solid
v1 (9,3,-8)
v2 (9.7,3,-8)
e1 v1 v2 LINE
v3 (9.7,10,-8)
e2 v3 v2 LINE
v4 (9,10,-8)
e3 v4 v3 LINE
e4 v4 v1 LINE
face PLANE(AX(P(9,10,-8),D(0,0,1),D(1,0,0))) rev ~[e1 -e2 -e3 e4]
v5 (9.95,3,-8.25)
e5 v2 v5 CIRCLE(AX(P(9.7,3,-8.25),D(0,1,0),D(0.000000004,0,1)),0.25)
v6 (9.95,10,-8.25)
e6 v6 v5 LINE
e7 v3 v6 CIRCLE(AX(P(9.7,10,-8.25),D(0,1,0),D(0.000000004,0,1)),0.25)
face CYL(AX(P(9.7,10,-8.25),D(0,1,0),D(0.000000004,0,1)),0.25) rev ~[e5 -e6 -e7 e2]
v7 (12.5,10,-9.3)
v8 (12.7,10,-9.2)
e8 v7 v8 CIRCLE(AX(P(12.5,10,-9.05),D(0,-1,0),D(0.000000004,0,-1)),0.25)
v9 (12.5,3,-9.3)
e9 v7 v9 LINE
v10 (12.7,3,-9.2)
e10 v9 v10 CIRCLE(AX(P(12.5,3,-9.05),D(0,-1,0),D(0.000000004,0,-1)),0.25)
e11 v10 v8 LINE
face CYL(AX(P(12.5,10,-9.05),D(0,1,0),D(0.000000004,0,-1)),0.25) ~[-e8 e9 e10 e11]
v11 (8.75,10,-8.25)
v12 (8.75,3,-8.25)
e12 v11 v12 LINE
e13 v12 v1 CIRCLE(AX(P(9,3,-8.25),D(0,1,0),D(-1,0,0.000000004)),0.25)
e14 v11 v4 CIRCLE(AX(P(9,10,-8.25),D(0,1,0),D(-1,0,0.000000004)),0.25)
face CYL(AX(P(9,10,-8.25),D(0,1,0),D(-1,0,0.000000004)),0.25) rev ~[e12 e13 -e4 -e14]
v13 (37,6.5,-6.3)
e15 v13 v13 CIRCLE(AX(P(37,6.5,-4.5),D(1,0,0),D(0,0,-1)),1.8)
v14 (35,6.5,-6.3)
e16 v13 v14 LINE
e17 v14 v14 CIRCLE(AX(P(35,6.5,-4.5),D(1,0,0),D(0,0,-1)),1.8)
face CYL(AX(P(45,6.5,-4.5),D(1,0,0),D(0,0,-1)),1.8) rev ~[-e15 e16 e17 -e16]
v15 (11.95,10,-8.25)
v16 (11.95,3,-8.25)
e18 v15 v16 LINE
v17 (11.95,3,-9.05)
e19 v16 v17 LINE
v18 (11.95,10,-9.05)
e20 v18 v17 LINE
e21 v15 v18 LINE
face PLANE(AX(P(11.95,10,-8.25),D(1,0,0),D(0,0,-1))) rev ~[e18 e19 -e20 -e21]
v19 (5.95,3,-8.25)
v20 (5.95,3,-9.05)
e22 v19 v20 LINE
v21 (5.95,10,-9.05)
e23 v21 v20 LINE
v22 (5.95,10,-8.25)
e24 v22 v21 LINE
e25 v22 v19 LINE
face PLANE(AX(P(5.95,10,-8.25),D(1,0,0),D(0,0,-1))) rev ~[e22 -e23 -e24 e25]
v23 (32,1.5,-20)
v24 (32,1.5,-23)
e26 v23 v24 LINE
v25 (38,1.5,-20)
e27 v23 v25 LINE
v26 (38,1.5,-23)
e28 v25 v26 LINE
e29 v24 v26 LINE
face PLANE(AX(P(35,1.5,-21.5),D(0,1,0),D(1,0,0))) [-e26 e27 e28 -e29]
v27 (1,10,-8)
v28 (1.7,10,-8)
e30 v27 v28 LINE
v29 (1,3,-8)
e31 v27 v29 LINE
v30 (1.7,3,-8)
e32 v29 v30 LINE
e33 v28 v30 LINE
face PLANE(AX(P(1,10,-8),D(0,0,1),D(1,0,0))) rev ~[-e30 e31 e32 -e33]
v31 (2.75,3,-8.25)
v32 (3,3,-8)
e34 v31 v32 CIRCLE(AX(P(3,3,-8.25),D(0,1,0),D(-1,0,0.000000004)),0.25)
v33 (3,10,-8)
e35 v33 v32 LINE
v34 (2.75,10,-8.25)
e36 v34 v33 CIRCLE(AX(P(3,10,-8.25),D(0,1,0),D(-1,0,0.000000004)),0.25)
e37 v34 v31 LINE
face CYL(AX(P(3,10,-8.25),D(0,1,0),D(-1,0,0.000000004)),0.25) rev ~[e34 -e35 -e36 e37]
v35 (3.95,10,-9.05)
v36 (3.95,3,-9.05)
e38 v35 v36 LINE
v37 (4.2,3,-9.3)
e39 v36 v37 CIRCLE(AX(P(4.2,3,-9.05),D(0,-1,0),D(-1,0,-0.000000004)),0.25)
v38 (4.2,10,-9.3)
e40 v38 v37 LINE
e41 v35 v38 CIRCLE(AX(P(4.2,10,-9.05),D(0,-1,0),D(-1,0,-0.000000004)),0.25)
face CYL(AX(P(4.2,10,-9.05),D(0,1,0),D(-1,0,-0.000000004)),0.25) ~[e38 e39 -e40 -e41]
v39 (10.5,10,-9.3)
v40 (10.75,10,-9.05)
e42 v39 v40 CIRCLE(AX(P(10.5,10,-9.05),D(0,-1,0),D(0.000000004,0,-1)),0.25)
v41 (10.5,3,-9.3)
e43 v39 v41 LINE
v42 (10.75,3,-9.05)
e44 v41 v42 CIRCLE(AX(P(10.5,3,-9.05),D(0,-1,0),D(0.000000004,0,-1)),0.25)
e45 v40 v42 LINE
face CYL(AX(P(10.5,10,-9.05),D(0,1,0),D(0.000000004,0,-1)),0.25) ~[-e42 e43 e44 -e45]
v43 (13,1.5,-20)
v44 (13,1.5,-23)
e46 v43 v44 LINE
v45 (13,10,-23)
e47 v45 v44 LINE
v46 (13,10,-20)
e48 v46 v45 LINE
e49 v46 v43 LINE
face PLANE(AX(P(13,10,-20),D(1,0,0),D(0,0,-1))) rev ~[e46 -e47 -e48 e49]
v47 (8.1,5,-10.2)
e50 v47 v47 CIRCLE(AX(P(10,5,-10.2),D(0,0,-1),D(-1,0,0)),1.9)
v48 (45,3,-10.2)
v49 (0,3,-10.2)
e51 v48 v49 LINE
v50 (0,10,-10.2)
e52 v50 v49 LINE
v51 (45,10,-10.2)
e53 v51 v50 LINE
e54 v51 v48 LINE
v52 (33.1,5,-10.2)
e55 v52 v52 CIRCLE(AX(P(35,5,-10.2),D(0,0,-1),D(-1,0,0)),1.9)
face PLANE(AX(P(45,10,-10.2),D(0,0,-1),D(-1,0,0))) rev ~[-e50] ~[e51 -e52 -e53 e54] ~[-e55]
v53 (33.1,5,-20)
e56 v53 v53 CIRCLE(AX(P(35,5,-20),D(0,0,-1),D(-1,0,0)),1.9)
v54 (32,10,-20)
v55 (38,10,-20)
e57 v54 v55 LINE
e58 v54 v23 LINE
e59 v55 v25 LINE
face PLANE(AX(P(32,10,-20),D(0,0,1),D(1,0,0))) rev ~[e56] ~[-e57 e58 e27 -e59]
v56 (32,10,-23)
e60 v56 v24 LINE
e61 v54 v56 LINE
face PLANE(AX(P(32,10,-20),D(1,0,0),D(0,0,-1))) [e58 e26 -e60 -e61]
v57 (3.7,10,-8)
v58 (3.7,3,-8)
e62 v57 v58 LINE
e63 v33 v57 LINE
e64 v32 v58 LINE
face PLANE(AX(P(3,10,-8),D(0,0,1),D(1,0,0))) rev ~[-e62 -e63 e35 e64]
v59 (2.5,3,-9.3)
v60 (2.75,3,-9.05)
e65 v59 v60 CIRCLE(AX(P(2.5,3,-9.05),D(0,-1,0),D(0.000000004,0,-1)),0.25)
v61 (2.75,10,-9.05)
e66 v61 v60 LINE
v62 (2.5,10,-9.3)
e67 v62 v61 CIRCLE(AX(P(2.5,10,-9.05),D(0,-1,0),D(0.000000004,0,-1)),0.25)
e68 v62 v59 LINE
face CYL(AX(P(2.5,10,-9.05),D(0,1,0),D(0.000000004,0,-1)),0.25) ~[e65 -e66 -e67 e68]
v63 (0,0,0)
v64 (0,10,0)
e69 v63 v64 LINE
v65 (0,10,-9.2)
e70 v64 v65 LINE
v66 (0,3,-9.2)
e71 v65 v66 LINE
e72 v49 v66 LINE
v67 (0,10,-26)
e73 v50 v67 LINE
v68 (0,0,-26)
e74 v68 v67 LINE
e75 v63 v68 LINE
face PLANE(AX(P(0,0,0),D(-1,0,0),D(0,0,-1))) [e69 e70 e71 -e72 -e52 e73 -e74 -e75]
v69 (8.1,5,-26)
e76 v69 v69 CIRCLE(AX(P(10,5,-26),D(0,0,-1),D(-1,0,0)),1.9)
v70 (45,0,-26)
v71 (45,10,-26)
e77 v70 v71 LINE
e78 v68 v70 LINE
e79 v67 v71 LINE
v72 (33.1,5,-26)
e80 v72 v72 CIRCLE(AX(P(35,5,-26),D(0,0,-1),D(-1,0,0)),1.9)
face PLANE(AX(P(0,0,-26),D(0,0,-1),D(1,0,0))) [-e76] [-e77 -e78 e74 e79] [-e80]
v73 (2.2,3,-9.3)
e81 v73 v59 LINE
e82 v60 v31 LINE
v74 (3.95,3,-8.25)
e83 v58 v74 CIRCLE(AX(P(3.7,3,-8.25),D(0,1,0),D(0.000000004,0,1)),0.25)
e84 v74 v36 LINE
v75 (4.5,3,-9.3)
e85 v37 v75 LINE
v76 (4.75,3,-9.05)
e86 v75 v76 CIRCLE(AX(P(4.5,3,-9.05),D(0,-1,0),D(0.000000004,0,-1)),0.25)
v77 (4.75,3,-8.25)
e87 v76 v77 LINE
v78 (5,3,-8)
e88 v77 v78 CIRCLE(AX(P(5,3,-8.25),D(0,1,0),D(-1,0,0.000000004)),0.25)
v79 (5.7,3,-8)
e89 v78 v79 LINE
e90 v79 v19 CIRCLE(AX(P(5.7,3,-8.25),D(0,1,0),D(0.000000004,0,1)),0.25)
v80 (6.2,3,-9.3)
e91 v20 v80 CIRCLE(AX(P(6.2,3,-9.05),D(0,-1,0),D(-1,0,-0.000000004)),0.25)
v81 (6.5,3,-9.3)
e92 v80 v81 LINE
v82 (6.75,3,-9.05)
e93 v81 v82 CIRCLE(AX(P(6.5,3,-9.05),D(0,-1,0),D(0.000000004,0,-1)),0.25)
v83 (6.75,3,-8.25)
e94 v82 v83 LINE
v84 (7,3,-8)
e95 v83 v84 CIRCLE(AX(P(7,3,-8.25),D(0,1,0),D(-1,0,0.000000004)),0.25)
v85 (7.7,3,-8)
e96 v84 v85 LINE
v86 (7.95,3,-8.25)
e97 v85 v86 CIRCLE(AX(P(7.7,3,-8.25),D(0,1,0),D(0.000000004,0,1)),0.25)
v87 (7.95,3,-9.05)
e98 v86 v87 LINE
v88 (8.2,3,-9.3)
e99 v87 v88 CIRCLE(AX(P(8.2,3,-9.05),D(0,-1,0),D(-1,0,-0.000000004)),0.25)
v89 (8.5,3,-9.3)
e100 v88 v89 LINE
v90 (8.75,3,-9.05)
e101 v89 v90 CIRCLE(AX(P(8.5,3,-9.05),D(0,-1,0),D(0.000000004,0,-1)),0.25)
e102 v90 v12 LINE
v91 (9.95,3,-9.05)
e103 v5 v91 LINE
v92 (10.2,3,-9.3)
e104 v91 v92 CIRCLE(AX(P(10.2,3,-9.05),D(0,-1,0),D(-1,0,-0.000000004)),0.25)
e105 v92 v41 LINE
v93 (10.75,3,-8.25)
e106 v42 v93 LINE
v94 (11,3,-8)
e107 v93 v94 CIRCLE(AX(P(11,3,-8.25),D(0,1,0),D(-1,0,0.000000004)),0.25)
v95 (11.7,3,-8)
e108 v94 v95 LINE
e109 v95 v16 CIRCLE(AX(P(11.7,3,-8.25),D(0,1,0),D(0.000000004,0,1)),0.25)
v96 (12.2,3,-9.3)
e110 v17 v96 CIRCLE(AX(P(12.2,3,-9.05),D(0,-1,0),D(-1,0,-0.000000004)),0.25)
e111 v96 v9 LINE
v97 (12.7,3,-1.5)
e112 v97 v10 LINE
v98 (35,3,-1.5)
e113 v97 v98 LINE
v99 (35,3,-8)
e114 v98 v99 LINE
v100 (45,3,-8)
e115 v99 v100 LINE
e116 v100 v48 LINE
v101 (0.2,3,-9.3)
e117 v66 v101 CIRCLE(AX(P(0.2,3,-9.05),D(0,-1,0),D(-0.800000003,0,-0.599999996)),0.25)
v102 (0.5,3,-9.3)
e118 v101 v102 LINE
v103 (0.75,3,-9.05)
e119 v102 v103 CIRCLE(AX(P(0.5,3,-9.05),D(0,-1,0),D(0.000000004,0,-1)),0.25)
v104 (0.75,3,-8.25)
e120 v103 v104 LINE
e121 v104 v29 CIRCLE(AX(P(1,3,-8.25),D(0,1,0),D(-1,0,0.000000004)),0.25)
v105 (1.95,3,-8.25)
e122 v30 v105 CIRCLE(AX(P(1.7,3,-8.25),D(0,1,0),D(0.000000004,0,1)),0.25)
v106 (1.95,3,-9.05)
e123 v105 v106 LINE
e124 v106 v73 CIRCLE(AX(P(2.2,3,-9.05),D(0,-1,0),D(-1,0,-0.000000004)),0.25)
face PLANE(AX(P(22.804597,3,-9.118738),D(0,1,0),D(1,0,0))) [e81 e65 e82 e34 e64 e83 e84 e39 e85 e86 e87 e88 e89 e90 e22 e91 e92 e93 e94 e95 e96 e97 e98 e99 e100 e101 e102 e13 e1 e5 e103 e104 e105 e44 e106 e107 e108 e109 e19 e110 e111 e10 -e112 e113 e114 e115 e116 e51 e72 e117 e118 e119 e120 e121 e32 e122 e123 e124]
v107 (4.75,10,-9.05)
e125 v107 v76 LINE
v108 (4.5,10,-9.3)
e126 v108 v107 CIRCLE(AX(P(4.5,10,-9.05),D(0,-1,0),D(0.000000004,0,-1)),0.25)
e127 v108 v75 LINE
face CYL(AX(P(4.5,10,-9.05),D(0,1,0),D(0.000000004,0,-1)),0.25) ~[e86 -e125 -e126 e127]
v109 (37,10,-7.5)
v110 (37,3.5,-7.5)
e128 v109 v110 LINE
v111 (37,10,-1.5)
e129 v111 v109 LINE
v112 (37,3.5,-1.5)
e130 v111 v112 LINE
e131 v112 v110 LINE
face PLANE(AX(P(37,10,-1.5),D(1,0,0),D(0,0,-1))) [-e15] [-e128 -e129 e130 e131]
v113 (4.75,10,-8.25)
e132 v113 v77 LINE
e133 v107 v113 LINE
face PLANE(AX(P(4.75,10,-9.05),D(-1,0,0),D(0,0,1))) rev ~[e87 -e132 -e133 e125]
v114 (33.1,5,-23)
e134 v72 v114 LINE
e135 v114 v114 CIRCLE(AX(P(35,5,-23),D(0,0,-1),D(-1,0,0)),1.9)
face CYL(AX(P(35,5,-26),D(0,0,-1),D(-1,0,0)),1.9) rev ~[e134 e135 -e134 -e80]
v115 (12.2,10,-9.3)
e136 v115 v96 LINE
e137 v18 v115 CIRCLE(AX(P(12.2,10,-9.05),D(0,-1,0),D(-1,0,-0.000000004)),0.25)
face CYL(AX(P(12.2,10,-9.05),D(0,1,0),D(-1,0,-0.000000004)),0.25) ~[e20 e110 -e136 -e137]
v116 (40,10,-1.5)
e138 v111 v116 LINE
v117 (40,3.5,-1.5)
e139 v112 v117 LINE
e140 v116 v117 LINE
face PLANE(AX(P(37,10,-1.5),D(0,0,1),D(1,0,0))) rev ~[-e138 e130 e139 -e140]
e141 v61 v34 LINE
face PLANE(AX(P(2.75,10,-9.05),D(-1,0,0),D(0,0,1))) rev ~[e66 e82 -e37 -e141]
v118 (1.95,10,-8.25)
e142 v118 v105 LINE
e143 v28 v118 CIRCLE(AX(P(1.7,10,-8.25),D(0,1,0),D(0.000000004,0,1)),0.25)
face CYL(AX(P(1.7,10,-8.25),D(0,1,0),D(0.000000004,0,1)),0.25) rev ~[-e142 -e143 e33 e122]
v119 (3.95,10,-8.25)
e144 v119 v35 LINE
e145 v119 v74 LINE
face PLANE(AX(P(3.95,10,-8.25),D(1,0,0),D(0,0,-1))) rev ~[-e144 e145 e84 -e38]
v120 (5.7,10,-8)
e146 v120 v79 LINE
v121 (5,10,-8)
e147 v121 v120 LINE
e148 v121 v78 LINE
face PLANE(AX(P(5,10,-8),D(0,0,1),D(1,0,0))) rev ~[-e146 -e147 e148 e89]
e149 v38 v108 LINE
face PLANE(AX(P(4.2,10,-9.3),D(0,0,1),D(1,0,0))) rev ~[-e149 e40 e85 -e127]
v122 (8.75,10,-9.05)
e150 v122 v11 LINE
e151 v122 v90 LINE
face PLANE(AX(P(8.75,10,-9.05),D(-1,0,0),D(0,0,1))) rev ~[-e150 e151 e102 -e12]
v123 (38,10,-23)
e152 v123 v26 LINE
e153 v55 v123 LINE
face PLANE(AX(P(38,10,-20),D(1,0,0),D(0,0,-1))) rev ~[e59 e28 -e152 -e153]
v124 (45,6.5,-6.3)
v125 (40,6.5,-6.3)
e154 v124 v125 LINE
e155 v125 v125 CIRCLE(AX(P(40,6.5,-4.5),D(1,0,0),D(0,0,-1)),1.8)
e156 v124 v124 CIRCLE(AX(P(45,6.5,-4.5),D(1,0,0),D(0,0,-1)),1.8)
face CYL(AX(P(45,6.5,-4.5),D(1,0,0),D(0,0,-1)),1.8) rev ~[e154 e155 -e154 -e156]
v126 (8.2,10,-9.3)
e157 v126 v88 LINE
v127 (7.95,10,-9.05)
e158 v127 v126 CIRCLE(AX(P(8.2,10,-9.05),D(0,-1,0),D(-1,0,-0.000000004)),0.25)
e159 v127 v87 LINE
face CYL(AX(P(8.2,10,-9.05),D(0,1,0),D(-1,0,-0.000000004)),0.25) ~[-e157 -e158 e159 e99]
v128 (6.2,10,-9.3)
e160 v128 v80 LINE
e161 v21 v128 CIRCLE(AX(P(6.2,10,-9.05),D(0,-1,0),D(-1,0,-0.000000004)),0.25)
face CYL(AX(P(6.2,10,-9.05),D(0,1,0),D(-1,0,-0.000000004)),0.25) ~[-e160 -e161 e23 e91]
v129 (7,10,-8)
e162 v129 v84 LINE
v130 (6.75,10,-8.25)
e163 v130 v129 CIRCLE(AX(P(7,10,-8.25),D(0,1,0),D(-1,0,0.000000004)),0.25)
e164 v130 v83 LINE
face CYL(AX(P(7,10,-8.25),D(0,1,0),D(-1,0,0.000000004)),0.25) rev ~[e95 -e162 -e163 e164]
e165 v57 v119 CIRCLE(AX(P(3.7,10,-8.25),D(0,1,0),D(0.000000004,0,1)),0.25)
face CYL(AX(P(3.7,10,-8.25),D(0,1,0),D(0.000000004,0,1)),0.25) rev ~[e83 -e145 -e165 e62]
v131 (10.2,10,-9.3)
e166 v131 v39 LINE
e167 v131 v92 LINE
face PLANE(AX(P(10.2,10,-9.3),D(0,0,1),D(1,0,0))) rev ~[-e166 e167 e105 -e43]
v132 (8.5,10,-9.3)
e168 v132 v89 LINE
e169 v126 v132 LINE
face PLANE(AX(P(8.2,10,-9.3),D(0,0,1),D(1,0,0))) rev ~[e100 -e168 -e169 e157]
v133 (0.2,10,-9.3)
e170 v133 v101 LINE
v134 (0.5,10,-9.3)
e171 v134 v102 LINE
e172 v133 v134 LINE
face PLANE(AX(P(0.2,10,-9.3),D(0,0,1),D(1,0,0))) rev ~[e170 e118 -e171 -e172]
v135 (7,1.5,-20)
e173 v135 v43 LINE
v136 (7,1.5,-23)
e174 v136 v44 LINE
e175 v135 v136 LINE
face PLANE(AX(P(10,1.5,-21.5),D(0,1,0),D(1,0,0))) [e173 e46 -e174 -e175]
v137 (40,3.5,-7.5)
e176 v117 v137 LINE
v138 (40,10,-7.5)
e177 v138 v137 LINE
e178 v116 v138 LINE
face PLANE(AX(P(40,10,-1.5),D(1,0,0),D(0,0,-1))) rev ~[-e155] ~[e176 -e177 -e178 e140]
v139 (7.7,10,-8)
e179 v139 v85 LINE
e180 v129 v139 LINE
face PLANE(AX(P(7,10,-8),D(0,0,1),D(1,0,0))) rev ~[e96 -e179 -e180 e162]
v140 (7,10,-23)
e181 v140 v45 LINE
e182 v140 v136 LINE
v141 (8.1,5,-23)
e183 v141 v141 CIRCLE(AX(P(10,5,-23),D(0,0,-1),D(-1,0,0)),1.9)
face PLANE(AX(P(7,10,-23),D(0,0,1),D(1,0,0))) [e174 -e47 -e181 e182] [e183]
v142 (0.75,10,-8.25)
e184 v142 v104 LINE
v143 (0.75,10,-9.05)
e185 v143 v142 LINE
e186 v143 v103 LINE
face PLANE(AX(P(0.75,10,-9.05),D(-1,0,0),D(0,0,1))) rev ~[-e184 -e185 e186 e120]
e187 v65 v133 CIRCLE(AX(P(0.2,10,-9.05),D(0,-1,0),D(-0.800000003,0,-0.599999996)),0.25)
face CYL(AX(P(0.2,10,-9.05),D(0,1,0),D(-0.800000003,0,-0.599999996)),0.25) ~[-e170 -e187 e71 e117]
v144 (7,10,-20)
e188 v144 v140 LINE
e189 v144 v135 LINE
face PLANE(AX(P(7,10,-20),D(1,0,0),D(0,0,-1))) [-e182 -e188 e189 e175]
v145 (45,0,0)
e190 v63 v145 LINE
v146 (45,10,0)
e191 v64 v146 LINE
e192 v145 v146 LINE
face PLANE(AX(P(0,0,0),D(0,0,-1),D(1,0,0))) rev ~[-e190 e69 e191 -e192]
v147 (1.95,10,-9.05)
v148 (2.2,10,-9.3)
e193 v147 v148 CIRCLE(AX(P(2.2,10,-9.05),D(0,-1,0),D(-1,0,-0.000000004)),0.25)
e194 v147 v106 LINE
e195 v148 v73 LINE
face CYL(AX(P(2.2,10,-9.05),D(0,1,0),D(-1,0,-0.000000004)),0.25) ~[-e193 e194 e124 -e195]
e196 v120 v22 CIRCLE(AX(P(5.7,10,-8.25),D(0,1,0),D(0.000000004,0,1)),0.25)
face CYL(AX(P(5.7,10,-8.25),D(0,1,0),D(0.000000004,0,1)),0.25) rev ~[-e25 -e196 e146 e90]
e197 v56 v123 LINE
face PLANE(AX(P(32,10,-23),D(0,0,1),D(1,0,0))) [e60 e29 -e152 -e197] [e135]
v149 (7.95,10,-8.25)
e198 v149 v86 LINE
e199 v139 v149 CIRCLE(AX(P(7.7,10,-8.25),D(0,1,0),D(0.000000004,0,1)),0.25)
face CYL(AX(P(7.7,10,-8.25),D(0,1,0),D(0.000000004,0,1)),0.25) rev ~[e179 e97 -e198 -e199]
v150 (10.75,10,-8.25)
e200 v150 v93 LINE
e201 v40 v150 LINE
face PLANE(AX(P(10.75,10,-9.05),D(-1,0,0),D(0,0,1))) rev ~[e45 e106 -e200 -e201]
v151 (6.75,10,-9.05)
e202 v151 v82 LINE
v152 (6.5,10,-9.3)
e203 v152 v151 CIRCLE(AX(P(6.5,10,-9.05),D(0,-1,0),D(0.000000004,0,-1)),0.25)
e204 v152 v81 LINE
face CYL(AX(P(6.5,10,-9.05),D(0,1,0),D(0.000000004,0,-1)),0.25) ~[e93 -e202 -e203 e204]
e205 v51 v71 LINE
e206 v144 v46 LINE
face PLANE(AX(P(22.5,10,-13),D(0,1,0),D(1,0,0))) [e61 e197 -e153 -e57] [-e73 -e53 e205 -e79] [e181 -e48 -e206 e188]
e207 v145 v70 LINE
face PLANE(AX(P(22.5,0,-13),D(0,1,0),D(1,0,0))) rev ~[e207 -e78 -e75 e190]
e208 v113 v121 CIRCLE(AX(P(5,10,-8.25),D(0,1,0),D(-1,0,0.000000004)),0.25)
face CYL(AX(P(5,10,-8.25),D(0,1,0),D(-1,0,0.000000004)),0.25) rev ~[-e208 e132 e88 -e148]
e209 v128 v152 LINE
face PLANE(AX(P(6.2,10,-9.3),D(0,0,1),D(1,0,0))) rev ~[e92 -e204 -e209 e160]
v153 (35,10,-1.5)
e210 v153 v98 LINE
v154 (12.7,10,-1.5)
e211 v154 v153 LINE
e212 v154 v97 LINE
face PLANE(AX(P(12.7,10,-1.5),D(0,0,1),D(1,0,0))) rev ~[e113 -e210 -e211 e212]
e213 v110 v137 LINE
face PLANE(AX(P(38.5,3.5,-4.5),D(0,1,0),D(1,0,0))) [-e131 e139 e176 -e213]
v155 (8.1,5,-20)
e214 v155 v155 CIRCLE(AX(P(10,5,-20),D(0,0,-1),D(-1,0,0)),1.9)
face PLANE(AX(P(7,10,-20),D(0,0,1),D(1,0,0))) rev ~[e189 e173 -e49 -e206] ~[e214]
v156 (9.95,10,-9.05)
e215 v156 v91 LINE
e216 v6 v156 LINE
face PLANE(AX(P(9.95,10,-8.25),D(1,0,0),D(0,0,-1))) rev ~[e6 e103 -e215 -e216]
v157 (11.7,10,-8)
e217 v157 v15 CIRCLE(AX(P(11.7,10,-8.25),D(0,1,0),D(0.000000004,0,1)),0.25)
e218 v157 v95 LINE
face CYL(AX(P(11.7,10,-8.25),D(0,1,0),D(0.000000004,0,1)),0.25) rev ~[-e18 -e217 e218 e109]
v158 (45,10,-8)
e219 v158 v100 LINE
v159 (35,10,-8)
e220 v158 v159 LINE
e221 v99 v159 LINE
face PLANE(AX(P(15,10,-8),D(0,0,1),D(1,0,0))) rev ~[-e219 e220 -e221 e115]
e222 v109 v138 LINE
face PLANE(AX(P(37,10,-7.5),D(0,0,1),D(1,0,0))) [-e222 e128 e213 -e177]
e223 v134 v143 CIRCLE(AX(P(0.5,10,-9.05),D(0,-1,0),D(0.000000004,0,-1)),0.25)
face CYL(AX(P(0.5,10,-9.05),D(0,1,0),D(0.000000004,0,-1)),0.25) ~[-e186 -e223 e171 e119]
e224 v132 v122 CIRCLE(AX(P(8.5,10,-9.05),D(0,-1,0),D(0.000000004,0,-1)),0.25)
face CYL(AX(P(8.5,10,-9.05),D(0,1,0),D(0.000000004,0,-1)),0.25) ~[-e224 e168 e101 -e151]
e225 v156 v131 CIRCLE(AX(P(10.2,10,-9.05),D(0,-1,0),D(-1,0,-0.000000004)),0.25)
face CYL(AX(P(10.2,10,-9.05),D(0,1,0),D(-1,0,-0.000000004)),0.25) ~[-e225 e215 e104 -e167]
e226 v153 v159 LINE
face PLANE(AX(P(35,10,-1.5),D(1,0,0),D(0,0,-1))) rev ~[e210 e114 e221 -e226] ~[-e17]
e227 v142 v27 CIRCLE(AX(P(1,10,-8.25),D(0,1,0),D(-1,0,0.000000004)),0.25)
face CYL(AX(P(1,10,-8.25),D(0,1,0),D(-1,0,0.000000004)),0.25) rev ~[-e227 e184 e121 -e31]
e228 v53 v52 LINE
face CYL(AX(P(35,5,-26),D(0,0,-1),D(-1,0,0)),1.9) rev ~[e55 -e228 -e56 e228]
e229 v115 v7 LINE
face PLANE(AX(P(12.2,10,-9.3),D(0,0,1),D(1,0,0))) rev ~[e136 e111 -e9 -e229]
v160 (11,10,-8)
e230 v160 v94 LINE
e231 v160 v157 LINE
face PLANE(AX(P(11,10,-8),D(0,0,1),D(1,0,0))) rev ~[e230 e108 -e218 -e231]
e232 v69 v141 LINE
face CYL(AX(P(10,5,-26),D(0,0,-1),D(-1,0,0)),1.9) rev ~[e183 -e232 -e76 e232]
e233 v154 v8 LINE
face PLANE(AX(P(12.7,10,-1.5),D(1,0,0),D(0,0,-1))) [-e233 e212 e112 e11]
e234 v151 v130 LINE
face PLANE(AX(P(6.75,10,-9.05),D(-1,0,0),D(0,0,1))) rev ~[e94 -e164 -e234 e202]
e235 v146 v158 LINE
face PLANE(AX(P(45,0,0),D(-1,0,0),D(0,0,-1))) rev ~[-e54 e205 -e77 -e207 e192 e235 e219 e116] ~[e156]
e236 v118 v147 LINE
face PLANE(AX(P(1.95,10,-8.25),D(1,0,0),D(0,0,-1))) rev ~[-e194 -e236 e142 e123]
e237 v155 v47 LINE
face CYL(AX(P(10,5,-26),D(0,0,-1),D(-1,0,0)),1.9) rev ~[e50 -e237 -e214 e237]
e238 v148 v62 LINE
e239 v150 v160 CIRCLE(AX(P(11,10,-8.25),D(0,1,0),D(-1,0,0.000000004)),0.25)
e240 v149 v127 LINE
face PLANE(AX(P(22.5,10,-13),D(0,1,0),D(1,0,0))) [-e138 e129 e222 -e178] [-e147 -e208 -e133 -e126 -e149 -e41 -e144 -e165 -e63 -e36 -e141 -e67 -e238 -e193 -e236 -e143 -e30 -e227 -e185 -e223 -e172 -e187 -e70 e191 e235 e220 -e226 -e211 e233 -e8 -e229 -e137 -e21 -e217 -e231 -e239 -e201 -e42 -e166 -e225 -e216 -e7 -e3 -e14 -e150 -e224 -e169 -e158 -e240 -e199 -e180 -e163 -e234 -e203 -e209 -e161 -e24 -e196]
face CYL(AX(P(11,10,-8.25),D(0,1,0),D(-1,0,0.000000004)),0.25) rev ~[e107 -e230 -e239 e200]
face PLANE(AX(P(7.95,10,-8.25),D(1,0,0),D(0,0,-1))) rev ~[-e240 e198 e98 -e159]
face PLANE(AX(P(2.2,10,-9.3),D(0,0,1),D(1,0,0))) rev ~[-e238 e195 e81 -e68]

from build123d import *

# Parameters (mm, degrees)
SKETCH_1_W          = 45
SKETCH_1_H          = 26
EXTRUDE_1_DEPTH     = 10
CUT_EXTRUDE_1_DEPTH = 7
SKETCH_4_W          = 30
SKETCH_4_H          = 1.4
CUT_EXTRUDE_3_DEPTH = 7
SKETCH_5_R          = 1.8
CUT_EXTRUDE_4_DEPTH = 30
SKETCH_6_W          = 3
SKETCH_6_H          = 6
CUT_EXTRUDE_5_DEPTH = 6.5
SKETCH_7_W          = 22.3
SKETCH_7_H          = 8.113029467
CUT_EXTRUDE_7_DEPTH = 7
SKETCH_8_R          = 1.9
CUT_EXTRUDE_8_DEPTH = 15.9
SKETCH_10_W         = 6
SKETCH_10_H         = 3
CUT_EXTRUDE_9_DEPTH = 8.5


with BuildPart() as part:
    # 草图1 → 凸台-拉伸1 (new body)
    with BuildSketch(Plane(origin=(0, 0, 0), x_dir=(1, 0, 0), z_dir=(0, 1, 0))):
        with Locations((22.5, 13)):
            Rectangle(SKETCH_1_W, SKETCH_1_H)
    extrude(amount=EXTRUDE_1_DEPTH)

    # 草图3 → 切除-拉伸1 (cut)
    with BuildSketch(Plane(origin=(0, 10, 0), x_dir=(1, 0, 0), z_dir=(0, 1, 0))):
        with BuildLine():
            Line((43, 8), (43.7, 8))
            ThreePointArc((43.7, 8), (43.876776695, 8.073223305), (43.95, 8.25))
            Line((43.95, 8.25), (43.95, 9.05))
            ThreePointArc((43.95, 9.05), (44.023223305, 9.226776695), (44.2, 9.3))
            Line((44.2, 9.3), (44.5, 9.3))
            ThreePointArc((44.5, 9.3), (44.676776695, 9.226776695), (44.75, 9.05))
            Line((44.75, 9.05), (44.75, 8.25))
            ThreePointArc((44.75, 8.25), (44.823223305, 8.073223305), (45, 8))
            Line((45, 8), (45, 10.2))
            Line((45, 10.2), (0, 10.2))
            Line((0, 10.2), (0, 9.2))
            ThreePointArc((0, 9.2), (0.088196601, 9.273606798), (0.2, 9.3))
            Line((0.2, 9.3), (0.5, 9.3))
            ThreePointArc((0.5, 9.3), (0.676776695, 9.226776695), (0.75, 9.05))
            Line((0.75, 9.05), (0.75, 8.25))
            ThreePointArc((0.75, 8.25), (0.823223305, 8.073223305), (1, 8))
            Line((1, 8), (1.7, 8))
            ThreePointArc((1.7, 8), (1.876776695, 8.073223305), (1.95, 8.25))
            Line((1.95, 8.25), (1.95, 9.05))
            ThreePointArc((1.95, 9.05), (2.023223305, 9.226776695), (2.2, 9.3))
            Line((2.2, 9.3), (2.5, 9.3))
            ThreePointArc((2.5, 9.3), (2.676776695, 9.226776695), (2.75, 9.05))
            Line((2.75, 9.05), (2.75, 8.25))
            ThreePointArc((2.75, 8.25), (2.823223305, 8.073223305), (3, 8))
            Line((3, 8), (3.7, 8))
            ThreePointArc((3.7, 8), (3.876776695, 8.073223305), (3.95, 8.25))
            Line((3.95, 8.25), (3.95, 9.05))
            ThreePointArc((3.95, 9.05), (4.023223305, 9.226776695), (4.2, 9.3))
            Line((4.2, 9.3), (4.5, 9.3))
            ThreePointArc((4.5, 9.3), (4.676776695, 9.226776695), (4.75, 9.05))
            Line((4.75, 9.05), (4.75, 8.25))
            ThreePointArc((4.75, 8.25), (4.823223305, 8.073223305), (5, 8))
            Line((5, 8), (5.7, 8))
            ThreePointArc((5.7, 8), (5.876776695, 8.073223305), (5.95, 8.25))
            Line((5.95, 8.25), (5.95, 9.05))
            ThreePointArc((5.95, 9.05), (6.023223305, 9.226776695), (6.2, 9.3))
            Line((6.2, 9.3), (6.5, 9.3))
            ThreePointArc((6.5, 9.3), (6.676776695, 9.226776695), (6.75, 9.05))
            Line((6.75, 9.05), (6.75, 8.25))
            ThreePointArc((6.75, 8.25), (6.823223305, 8.073223305), (7, 8))
            Line((7, 8), (7.7, 8))
            ThreePointArc((7.7, 8), (7.876776695, 8.073223305), (7.95, 8.25))
            Line((7.95, 8.25), (7.95, 9.05))
            ThreePointArc((7.95, 9.05), (8.023223305, 9.226776695), (8.2, 9.3))
            Line((8.2, 9.3), (8.5, 9.3))
            ThreePointArc((8.5, 9.3), (8.676776695, 9.226776695), (8.75, 9.05))
            Line((8.75, 9.05), (8.75, 8.25))
            ThreePointArc((8.75, 8.25), (8.823223305, 8.073223305), (9, 8))
            Line((9, 8), (9.7, 8))
            ThreePointArc((9.7, 8), (9.876776695, 8.073223305), (9.95, 8.25))
            Line((9.95, 8.25), (9.95, 9.05))
            ThreePointArc((9.95, 9.05), (10.023223305, 9.226776695), (10.2, 9.3))
            Line((10.2, 9.3), (10.5, 9.3))
            ThreePointArc((10.5, 9.3), (10.676776695, 9.226776695), (10.75, 9.05))
            Line((10.75, 9.05), (10.75, 8.25))
            ThreePointArc((10.75, 8.25), (10.823223305, 8.073223305), (11, 8))
            Line((11, 8), (11.7, 8))
            ThreePointArc((11.7, 8), (11.876776695, 8.073223305), (11.95, 8.25))
            Line((11.95, 8.25), (11.95, 9.05))
            ThreePointArc((11.95, 9.05), (12.023223305, 9.226776695), (12.2, 9.3))
            Line((12.2, 9.3), (12.5, 9.3))
            ThreePointArc((12.5, 9.3), (12.676776695, 9.226776695), (12.75, 9.05))
            Line((12.75, 9.05), (12.75, 8.25))
            ThreePointArc((12.75, 8.25), (12.823223305, 8.073223305), (13, 8))
            Line((13, 8), (13.7, 8))
            ThreePointArc((13.7, 8), (13.876776695, 8.073223305), (13.95, 8.25))
            Line((13.95, 8.25), (13.95, 9.05))
            ThreePointArc((13.95, 9.05), (14.023223305, 9.226776695), (14.2, 9.3))
            Line((14.2, 9.3), (14.5, 9.3))
            ThreePointArc((14.5, 9.3), (14.676776695, 9.226776695), (14.75, 9.05))
            Line((14.75, 9.05), (14.75, 8.25))
            ThreePointArc((14.75, 8.25), (14.823223305, 8.073223305), (15, 8))
            Line((15, 8), (15.7, 8))
            ThreePointArc((15.7, 8), (15.876776695, 8.073223305), (15.95, 8.25))
            Line((15.95, 8.25), (15.95, 9.05))
            ThreePointArc((15.95, 9.05), (16.023223305, 9.226776695), (16.2, 9.3))
            Line((16.2, 9.3), (16.5, 9.3))
            ThreePointArc((16.5, 9.3), (16.676776695, 9.226776695), (16.75, 9.05))
            Line((16.75, 9.05), (16.75, 8.25))
            ThreePointArc((16.75, 8.25), (16.823223305, 8.073223305), (17, 8))
            Line((17, 8), (17.7, 8))
            ThreePointArc((17.7, 8), (17.876776695, 8.073223305), (17.95, 8.25))
            Line((17.95, 8.25), (17.95, 9.05))
            ThreePointArc((17.95, 9.05), (18.023223305, 9.226776695), (18.2, 9.3))
            Line((18.2, 9.3), (18.5, 9.3))
            ThreePointArc((18.5, 9.3), (18.676776695, 9.226776695), (18.75, 9.05))
            Line((18.75, 9.05), (18.75, 8.25))
            ThreePointArc((18.75, 8.25), (18.823223305, 8.073223305), (19, 8))
            Line((19, 8), (19.7, 8))
            ThreePointArc((19.7, 8), (19.876776695, 8.073223305), (19.95, 8.25))
            Line((19.95, 8.25), (19.95, 9.05))
            ThreePointArc((19.95, 9.05), (20.023223305, 9.226776695), (20.2, 9.3))
            Line((20.2, 9.3), (20.5, 9.3))
            ThreePointArc((20.5, 9.3), (20.676776695, 9.226776695), (20.75, 9.05))
            Line((20.75, 9.05), (20.75, 8.25))
            ThreePointArc((20.75, 8.25), (20.823223305, 8.073223305), (21, 8))
            Line((21, 8), (21.7, 8))
            ThreePointArc((21.7, 8), (21.876776695, 8.073223305), (21.95, 8.25))
            Line((21.95, 8.25), (21.95, 9.05))
            ThreePointArc((21.95, 9.05), (22.023223305, 9.226776695), (22.2, 9.3))
            Line((22.2, 9.3), (22.5, 9.3))
            ThreePointArc((22.5, 9.3), (22.676776695, 9.226776695), (22.75, 9.05))
            Line((22.75, 9.05), (22.75, 8.25))
            ThreePointArc((22.75, 8.25), (22.823223305, 8.073223305), (23, 8))
            Line((23, 8), (23.7, 8))
            ThreePointArc((23.7, 8), (23.876776695, 8.073223305), (23.95, 8.25))
            Line((23.95, 8.25), (23.95, 9.05))
            ThreePointArc((23.95, 9.05), (24.023223305, 9.226776695), (24.2, 9.3))
            Line((24.2, 9.3), (24.5, 9.3))
            ThreePointArc((24.5, 9.3), (24.676776695, 9.226776695), (24.75, 9.05))
            Line((24.75, 9.05), (24.75, 8.25))
            ThreePointArc((24.75, 8.25), (24.823223305, 8.073223305), (25, 8))
            Line((25, 8), (25.7, 8))
            ThreePointArc((25.7, 8), (25.876776695, 8.073223305), (25.95, 8.25))
            Line((25.95, 8.25), (25.95, 9.05))
            ThreePointArc((25.95, 9.05), (26.023223305, 9.226776695), (26.2, 9.3))
            Line((26.2, 9.3), (26.5, 9.3))
            ThreePointArc((26.5, 9.3), (26.676776695, 9.226776695), (26.75, 9.05))
            Line((26.75, 9.05), (26.75, 8.25))
            ThreePointArc((26.75, 8.25), (26.823223305, 8.073223305), (27, 8))
            Line((27, 8), (27.7, 8))
            ThreePointArc((27.7, 8), (27.876776695, 8.073223305), (27.95, 8.25))
            Line((27.95, 8.25), (27.95, 9.05))
            ThreePointArc((27.95, 9.05), (28.023223305, 9.226776695), (28.2, 9.3))
            Line((28.2, 9.3), (28.5, 9.3))
            ThreePointArc((28.5, 9.3), (28.676776695, 9.226776695), (28.75, 9.05))
            Line((28.75, 9.05), (28.75, 8.25))
            ThreePointArc((28.75, 8.25), (28.823223305, 8.073223305), (29, 8))
            Line((29, 8), (29.7, 8))
            ThreePointArc((29.7, 8), (29.876776695, 8.073223305), (29.95, 8.25))
            Line((29.95, 8.25), (29.95, 9.05))
            ThreePointArc((29.95, 9.05), (30.023223305, 9.226776695), (30.2, 9.3))
            Line((30.2, 9.3), (30.5, 9.3))
            ThreePointArc((30.5, 9.3), (30.676776695, 9.226776695), (30.75, 9.05))
            Line((30.75, 9.05), (30.75, 8.25))
            ThreePointArc((30.75, 8.25), (30.823223305, 8.073223305), (31, 8))
            Line((31, 8), (31.7, 8))
            ThreePointArc((31.7, 8), (31.876776695, 8.073223305), (31.95, 8.25))
            Line((31.95, 8.25), (31.95, 9.05))
            ThreePointArc((31.95, 9.05), (32.023223305, 9.226776695), (32.2, 9.3))
            Line((32.2, 9.3), (32.5, 9.3))
            ThreePointArc((32.5, 9.3), (32.676776695, 9.226776695), (32.75, 9.05))
            Line((32.75, 9.05), (32.75, 8.25))
            ThreePointArc((32.75, 8.25), (32.823223305, 8.073223305), (33, 8))
            Line((33, 8), (33.7, 8))
            ThreePointArc((33.7, 8), (33.876776695, 8.073223305), (33.95, 8.25))
            Line((33.95, 8.25), (33.95, 9.05))
            ThreePointArc((33.95, 9.05), (34.023223305, 9.226776695), (34.2, 9.3))
            Line((34.2, 9.3), (34.5, 9.3))
            ThreePointArc((34.5, 9.3), (34.676776695, 9.226776695), (34.75, 9.05))
            Line((34.75, 9.05), (34.75, 8.25))
            ThreePointArc((34.75, 8.25), (34.823223305, 8.073223305), (35, 8))
            Line((35, 8), (35.7, 8))
            ThreePointArc((35.7, 8), (35.876776695, 8.073223305), (35.95, 8.25))
            Line((35.95, 8.25), (35.95, 9.05))
            ThreePointArc((35.95, 9.05), (36.023223305, 9.226776695), (36.2, 9.3))
            Line((36.2, 9.3), (36.5, 9.3))
            ThreePointArc((36.5, 9.3), (36.676776695, 9.226776695), (36.75, 9.05))
            Line((36.75, 9.05), (36.75, 8.25))
            ThreePointArc((36.75, 8.25), (36.823223305, 8.073223305), (37, 8))
            Line((37, 8), (37.7, 8))
            ThreePointArc((37.7, 8), (37.876776695, 8.073223305), (37.95, 8.25))
            Line((37.95, 8.25), (37.95, 9.05))
            ThreePointArc((37.95, 9.05), (38.023223305, 9.226776695), (38.2, 9.3))
            Line((38.2, 9.3), (38.5, 9.3))
            ThreePointArc((38.5, 9.3), (38.676776695, 9.226776695), (38.75, 9.05))
            Line((38.75, 9.05), (38.75, 8.25))
            ThreePointArc((38.75, 8.25), (38.823223305, 8.073223305), (39, 8))
            Line((39, 8), (39.7, 8))
            ThreePointArc((39.7, 8), (39.876776695, 8.073223305), (39.95, 8.25))
            Line((39.95, 8.25), (39.95, 9.05))
            ThreePointArc((39.95, 9.05), (40.023223305, 9.226776695), (40.2, 9.3))
            Line((40.2, 9.3), (40.5, 9.3))
            ThreePointArc((40.5, 9.3), (40.676776695, 9.226776695), (40.75, 9.05))
            Line((40.75, 9.05), (40.75, 8.25))
            ThreePointArc((40.75, 8.25), (40.823223305, 8.073223305), (41, 8))
            Line((41, 8), (41.7, 8))
            ThreePointArc((41.7, 8), (41.876776695, 8.073223305), (41.95, 8.25))
            Line((41.95, 8.25), (41.95, 9.05))
            ThreePointArc((41.95, 9.05), (42.023223305, 9.226776695), (42.2, 9.3))
            Line((42.2, 9.3), (42.5, 9.3))
            ThreePointArc((42.5, 9.3), (42.676776695, 9.226776695), (42.75, 9.05))
            Line((42.75, 9.05), (42.75, 8.25))
            ThreePointArc((42.75, 8.25), (42.823223305, 8.073223305), (43, 8))
        make_face()
    extrude(amount=-CUT_EXTRUDE_1_DEPTH, mode=Mode.SUBTRACT)

    # 草图4 → 切除-拉伸3 (cut)
    with BuildSketch(Plane(origin=(0, 10, 0), x_dir=(1, 0, 0), z_dir=(0, 1, 0))):
        with Locations((30, 8.7)):
            Rectangle(SKETCH_4_W, SKETCH_4_H)
    extrude(amount=-CUT_EXTRUDE_3_DEPTH, mode=Mode.SUBTRACT)

    # 草图5 → 切除-拉伸4 (cut)
    with BuildSketch(Plane(origin=(45, 0, 0), x_dir=(0, 0, -1), z_dir=(1, 0, 0))):
        with Locations((4.5, 6.5)):
            Circle(SKETCH_5_R)
    extrude(amount=-CUT_EXTRUDE_4_DEPTH, mode=Mode.SUBTRACT)

    # 草图6 → 切除-拉伸5 (cut)
    with BuildSketch(Plane(origin=(0, 10, 0), x_dir=(1, 0, 0), z_dir=(0, 1, 0))):
        with Locations((38.5, 4.5)):
            Rectangle(SKETCH_6_W, SKETCH_6_H)
    extrude(amount=-CUT_EXTRUDE_5_DEPTH, mode=Mode.SUBTRACT)

    # 草图7 → 切除-拉伸7 (cut)
    with BuildSketch(Plane(origin=(0, 10, 0), x_dir=(1, 0, 0), z_dir=(0, 1, 0))):
        with Locations((23.85, 5.556514734)):
            Rectangle(SKETCH_7_W, SKETCH_7_H)
    extrude(amount=-CUT_EXTRUDE_7_DEPTH, mode=Mode.SUBTRACT)

    # 草图8 → 切除-拉伸8 (cut)
    with BuildSketch(Plane(origin=(0, 0, -26), x_dir=(-1, 0, 0), z_dir=(0, 0, -1))):
        with Locations((-10, 5)):
            Circle(SKETCH_8_R)
        with Locations((-35, 5)):
            Circle(SKETCH_8_R)
    extrude(amount=-CUT_EXTRUDE_8_DEPTH, mode=Mode.SUBTRACT)

    # 草图10 → 切除-拉伸9 (cut)
    with BuildSketch(Plane(origin=(0, 10, 0), x_dir=(1, 0, 0), z_dir=(0, 1, 0))):
        with Locations((10, 21.5)):
            Rectangle(SKETCH_10_W, SKETCH_10_H)
        with Locations((35, 21.5)):
            Rectangle(SKETCH_10_W, SKETCH_10_H)
    extrude(amount=-CUT_EXTRUDE_9_DEPTH, mode=Mode.SUBTRACT)


solid = part.part
